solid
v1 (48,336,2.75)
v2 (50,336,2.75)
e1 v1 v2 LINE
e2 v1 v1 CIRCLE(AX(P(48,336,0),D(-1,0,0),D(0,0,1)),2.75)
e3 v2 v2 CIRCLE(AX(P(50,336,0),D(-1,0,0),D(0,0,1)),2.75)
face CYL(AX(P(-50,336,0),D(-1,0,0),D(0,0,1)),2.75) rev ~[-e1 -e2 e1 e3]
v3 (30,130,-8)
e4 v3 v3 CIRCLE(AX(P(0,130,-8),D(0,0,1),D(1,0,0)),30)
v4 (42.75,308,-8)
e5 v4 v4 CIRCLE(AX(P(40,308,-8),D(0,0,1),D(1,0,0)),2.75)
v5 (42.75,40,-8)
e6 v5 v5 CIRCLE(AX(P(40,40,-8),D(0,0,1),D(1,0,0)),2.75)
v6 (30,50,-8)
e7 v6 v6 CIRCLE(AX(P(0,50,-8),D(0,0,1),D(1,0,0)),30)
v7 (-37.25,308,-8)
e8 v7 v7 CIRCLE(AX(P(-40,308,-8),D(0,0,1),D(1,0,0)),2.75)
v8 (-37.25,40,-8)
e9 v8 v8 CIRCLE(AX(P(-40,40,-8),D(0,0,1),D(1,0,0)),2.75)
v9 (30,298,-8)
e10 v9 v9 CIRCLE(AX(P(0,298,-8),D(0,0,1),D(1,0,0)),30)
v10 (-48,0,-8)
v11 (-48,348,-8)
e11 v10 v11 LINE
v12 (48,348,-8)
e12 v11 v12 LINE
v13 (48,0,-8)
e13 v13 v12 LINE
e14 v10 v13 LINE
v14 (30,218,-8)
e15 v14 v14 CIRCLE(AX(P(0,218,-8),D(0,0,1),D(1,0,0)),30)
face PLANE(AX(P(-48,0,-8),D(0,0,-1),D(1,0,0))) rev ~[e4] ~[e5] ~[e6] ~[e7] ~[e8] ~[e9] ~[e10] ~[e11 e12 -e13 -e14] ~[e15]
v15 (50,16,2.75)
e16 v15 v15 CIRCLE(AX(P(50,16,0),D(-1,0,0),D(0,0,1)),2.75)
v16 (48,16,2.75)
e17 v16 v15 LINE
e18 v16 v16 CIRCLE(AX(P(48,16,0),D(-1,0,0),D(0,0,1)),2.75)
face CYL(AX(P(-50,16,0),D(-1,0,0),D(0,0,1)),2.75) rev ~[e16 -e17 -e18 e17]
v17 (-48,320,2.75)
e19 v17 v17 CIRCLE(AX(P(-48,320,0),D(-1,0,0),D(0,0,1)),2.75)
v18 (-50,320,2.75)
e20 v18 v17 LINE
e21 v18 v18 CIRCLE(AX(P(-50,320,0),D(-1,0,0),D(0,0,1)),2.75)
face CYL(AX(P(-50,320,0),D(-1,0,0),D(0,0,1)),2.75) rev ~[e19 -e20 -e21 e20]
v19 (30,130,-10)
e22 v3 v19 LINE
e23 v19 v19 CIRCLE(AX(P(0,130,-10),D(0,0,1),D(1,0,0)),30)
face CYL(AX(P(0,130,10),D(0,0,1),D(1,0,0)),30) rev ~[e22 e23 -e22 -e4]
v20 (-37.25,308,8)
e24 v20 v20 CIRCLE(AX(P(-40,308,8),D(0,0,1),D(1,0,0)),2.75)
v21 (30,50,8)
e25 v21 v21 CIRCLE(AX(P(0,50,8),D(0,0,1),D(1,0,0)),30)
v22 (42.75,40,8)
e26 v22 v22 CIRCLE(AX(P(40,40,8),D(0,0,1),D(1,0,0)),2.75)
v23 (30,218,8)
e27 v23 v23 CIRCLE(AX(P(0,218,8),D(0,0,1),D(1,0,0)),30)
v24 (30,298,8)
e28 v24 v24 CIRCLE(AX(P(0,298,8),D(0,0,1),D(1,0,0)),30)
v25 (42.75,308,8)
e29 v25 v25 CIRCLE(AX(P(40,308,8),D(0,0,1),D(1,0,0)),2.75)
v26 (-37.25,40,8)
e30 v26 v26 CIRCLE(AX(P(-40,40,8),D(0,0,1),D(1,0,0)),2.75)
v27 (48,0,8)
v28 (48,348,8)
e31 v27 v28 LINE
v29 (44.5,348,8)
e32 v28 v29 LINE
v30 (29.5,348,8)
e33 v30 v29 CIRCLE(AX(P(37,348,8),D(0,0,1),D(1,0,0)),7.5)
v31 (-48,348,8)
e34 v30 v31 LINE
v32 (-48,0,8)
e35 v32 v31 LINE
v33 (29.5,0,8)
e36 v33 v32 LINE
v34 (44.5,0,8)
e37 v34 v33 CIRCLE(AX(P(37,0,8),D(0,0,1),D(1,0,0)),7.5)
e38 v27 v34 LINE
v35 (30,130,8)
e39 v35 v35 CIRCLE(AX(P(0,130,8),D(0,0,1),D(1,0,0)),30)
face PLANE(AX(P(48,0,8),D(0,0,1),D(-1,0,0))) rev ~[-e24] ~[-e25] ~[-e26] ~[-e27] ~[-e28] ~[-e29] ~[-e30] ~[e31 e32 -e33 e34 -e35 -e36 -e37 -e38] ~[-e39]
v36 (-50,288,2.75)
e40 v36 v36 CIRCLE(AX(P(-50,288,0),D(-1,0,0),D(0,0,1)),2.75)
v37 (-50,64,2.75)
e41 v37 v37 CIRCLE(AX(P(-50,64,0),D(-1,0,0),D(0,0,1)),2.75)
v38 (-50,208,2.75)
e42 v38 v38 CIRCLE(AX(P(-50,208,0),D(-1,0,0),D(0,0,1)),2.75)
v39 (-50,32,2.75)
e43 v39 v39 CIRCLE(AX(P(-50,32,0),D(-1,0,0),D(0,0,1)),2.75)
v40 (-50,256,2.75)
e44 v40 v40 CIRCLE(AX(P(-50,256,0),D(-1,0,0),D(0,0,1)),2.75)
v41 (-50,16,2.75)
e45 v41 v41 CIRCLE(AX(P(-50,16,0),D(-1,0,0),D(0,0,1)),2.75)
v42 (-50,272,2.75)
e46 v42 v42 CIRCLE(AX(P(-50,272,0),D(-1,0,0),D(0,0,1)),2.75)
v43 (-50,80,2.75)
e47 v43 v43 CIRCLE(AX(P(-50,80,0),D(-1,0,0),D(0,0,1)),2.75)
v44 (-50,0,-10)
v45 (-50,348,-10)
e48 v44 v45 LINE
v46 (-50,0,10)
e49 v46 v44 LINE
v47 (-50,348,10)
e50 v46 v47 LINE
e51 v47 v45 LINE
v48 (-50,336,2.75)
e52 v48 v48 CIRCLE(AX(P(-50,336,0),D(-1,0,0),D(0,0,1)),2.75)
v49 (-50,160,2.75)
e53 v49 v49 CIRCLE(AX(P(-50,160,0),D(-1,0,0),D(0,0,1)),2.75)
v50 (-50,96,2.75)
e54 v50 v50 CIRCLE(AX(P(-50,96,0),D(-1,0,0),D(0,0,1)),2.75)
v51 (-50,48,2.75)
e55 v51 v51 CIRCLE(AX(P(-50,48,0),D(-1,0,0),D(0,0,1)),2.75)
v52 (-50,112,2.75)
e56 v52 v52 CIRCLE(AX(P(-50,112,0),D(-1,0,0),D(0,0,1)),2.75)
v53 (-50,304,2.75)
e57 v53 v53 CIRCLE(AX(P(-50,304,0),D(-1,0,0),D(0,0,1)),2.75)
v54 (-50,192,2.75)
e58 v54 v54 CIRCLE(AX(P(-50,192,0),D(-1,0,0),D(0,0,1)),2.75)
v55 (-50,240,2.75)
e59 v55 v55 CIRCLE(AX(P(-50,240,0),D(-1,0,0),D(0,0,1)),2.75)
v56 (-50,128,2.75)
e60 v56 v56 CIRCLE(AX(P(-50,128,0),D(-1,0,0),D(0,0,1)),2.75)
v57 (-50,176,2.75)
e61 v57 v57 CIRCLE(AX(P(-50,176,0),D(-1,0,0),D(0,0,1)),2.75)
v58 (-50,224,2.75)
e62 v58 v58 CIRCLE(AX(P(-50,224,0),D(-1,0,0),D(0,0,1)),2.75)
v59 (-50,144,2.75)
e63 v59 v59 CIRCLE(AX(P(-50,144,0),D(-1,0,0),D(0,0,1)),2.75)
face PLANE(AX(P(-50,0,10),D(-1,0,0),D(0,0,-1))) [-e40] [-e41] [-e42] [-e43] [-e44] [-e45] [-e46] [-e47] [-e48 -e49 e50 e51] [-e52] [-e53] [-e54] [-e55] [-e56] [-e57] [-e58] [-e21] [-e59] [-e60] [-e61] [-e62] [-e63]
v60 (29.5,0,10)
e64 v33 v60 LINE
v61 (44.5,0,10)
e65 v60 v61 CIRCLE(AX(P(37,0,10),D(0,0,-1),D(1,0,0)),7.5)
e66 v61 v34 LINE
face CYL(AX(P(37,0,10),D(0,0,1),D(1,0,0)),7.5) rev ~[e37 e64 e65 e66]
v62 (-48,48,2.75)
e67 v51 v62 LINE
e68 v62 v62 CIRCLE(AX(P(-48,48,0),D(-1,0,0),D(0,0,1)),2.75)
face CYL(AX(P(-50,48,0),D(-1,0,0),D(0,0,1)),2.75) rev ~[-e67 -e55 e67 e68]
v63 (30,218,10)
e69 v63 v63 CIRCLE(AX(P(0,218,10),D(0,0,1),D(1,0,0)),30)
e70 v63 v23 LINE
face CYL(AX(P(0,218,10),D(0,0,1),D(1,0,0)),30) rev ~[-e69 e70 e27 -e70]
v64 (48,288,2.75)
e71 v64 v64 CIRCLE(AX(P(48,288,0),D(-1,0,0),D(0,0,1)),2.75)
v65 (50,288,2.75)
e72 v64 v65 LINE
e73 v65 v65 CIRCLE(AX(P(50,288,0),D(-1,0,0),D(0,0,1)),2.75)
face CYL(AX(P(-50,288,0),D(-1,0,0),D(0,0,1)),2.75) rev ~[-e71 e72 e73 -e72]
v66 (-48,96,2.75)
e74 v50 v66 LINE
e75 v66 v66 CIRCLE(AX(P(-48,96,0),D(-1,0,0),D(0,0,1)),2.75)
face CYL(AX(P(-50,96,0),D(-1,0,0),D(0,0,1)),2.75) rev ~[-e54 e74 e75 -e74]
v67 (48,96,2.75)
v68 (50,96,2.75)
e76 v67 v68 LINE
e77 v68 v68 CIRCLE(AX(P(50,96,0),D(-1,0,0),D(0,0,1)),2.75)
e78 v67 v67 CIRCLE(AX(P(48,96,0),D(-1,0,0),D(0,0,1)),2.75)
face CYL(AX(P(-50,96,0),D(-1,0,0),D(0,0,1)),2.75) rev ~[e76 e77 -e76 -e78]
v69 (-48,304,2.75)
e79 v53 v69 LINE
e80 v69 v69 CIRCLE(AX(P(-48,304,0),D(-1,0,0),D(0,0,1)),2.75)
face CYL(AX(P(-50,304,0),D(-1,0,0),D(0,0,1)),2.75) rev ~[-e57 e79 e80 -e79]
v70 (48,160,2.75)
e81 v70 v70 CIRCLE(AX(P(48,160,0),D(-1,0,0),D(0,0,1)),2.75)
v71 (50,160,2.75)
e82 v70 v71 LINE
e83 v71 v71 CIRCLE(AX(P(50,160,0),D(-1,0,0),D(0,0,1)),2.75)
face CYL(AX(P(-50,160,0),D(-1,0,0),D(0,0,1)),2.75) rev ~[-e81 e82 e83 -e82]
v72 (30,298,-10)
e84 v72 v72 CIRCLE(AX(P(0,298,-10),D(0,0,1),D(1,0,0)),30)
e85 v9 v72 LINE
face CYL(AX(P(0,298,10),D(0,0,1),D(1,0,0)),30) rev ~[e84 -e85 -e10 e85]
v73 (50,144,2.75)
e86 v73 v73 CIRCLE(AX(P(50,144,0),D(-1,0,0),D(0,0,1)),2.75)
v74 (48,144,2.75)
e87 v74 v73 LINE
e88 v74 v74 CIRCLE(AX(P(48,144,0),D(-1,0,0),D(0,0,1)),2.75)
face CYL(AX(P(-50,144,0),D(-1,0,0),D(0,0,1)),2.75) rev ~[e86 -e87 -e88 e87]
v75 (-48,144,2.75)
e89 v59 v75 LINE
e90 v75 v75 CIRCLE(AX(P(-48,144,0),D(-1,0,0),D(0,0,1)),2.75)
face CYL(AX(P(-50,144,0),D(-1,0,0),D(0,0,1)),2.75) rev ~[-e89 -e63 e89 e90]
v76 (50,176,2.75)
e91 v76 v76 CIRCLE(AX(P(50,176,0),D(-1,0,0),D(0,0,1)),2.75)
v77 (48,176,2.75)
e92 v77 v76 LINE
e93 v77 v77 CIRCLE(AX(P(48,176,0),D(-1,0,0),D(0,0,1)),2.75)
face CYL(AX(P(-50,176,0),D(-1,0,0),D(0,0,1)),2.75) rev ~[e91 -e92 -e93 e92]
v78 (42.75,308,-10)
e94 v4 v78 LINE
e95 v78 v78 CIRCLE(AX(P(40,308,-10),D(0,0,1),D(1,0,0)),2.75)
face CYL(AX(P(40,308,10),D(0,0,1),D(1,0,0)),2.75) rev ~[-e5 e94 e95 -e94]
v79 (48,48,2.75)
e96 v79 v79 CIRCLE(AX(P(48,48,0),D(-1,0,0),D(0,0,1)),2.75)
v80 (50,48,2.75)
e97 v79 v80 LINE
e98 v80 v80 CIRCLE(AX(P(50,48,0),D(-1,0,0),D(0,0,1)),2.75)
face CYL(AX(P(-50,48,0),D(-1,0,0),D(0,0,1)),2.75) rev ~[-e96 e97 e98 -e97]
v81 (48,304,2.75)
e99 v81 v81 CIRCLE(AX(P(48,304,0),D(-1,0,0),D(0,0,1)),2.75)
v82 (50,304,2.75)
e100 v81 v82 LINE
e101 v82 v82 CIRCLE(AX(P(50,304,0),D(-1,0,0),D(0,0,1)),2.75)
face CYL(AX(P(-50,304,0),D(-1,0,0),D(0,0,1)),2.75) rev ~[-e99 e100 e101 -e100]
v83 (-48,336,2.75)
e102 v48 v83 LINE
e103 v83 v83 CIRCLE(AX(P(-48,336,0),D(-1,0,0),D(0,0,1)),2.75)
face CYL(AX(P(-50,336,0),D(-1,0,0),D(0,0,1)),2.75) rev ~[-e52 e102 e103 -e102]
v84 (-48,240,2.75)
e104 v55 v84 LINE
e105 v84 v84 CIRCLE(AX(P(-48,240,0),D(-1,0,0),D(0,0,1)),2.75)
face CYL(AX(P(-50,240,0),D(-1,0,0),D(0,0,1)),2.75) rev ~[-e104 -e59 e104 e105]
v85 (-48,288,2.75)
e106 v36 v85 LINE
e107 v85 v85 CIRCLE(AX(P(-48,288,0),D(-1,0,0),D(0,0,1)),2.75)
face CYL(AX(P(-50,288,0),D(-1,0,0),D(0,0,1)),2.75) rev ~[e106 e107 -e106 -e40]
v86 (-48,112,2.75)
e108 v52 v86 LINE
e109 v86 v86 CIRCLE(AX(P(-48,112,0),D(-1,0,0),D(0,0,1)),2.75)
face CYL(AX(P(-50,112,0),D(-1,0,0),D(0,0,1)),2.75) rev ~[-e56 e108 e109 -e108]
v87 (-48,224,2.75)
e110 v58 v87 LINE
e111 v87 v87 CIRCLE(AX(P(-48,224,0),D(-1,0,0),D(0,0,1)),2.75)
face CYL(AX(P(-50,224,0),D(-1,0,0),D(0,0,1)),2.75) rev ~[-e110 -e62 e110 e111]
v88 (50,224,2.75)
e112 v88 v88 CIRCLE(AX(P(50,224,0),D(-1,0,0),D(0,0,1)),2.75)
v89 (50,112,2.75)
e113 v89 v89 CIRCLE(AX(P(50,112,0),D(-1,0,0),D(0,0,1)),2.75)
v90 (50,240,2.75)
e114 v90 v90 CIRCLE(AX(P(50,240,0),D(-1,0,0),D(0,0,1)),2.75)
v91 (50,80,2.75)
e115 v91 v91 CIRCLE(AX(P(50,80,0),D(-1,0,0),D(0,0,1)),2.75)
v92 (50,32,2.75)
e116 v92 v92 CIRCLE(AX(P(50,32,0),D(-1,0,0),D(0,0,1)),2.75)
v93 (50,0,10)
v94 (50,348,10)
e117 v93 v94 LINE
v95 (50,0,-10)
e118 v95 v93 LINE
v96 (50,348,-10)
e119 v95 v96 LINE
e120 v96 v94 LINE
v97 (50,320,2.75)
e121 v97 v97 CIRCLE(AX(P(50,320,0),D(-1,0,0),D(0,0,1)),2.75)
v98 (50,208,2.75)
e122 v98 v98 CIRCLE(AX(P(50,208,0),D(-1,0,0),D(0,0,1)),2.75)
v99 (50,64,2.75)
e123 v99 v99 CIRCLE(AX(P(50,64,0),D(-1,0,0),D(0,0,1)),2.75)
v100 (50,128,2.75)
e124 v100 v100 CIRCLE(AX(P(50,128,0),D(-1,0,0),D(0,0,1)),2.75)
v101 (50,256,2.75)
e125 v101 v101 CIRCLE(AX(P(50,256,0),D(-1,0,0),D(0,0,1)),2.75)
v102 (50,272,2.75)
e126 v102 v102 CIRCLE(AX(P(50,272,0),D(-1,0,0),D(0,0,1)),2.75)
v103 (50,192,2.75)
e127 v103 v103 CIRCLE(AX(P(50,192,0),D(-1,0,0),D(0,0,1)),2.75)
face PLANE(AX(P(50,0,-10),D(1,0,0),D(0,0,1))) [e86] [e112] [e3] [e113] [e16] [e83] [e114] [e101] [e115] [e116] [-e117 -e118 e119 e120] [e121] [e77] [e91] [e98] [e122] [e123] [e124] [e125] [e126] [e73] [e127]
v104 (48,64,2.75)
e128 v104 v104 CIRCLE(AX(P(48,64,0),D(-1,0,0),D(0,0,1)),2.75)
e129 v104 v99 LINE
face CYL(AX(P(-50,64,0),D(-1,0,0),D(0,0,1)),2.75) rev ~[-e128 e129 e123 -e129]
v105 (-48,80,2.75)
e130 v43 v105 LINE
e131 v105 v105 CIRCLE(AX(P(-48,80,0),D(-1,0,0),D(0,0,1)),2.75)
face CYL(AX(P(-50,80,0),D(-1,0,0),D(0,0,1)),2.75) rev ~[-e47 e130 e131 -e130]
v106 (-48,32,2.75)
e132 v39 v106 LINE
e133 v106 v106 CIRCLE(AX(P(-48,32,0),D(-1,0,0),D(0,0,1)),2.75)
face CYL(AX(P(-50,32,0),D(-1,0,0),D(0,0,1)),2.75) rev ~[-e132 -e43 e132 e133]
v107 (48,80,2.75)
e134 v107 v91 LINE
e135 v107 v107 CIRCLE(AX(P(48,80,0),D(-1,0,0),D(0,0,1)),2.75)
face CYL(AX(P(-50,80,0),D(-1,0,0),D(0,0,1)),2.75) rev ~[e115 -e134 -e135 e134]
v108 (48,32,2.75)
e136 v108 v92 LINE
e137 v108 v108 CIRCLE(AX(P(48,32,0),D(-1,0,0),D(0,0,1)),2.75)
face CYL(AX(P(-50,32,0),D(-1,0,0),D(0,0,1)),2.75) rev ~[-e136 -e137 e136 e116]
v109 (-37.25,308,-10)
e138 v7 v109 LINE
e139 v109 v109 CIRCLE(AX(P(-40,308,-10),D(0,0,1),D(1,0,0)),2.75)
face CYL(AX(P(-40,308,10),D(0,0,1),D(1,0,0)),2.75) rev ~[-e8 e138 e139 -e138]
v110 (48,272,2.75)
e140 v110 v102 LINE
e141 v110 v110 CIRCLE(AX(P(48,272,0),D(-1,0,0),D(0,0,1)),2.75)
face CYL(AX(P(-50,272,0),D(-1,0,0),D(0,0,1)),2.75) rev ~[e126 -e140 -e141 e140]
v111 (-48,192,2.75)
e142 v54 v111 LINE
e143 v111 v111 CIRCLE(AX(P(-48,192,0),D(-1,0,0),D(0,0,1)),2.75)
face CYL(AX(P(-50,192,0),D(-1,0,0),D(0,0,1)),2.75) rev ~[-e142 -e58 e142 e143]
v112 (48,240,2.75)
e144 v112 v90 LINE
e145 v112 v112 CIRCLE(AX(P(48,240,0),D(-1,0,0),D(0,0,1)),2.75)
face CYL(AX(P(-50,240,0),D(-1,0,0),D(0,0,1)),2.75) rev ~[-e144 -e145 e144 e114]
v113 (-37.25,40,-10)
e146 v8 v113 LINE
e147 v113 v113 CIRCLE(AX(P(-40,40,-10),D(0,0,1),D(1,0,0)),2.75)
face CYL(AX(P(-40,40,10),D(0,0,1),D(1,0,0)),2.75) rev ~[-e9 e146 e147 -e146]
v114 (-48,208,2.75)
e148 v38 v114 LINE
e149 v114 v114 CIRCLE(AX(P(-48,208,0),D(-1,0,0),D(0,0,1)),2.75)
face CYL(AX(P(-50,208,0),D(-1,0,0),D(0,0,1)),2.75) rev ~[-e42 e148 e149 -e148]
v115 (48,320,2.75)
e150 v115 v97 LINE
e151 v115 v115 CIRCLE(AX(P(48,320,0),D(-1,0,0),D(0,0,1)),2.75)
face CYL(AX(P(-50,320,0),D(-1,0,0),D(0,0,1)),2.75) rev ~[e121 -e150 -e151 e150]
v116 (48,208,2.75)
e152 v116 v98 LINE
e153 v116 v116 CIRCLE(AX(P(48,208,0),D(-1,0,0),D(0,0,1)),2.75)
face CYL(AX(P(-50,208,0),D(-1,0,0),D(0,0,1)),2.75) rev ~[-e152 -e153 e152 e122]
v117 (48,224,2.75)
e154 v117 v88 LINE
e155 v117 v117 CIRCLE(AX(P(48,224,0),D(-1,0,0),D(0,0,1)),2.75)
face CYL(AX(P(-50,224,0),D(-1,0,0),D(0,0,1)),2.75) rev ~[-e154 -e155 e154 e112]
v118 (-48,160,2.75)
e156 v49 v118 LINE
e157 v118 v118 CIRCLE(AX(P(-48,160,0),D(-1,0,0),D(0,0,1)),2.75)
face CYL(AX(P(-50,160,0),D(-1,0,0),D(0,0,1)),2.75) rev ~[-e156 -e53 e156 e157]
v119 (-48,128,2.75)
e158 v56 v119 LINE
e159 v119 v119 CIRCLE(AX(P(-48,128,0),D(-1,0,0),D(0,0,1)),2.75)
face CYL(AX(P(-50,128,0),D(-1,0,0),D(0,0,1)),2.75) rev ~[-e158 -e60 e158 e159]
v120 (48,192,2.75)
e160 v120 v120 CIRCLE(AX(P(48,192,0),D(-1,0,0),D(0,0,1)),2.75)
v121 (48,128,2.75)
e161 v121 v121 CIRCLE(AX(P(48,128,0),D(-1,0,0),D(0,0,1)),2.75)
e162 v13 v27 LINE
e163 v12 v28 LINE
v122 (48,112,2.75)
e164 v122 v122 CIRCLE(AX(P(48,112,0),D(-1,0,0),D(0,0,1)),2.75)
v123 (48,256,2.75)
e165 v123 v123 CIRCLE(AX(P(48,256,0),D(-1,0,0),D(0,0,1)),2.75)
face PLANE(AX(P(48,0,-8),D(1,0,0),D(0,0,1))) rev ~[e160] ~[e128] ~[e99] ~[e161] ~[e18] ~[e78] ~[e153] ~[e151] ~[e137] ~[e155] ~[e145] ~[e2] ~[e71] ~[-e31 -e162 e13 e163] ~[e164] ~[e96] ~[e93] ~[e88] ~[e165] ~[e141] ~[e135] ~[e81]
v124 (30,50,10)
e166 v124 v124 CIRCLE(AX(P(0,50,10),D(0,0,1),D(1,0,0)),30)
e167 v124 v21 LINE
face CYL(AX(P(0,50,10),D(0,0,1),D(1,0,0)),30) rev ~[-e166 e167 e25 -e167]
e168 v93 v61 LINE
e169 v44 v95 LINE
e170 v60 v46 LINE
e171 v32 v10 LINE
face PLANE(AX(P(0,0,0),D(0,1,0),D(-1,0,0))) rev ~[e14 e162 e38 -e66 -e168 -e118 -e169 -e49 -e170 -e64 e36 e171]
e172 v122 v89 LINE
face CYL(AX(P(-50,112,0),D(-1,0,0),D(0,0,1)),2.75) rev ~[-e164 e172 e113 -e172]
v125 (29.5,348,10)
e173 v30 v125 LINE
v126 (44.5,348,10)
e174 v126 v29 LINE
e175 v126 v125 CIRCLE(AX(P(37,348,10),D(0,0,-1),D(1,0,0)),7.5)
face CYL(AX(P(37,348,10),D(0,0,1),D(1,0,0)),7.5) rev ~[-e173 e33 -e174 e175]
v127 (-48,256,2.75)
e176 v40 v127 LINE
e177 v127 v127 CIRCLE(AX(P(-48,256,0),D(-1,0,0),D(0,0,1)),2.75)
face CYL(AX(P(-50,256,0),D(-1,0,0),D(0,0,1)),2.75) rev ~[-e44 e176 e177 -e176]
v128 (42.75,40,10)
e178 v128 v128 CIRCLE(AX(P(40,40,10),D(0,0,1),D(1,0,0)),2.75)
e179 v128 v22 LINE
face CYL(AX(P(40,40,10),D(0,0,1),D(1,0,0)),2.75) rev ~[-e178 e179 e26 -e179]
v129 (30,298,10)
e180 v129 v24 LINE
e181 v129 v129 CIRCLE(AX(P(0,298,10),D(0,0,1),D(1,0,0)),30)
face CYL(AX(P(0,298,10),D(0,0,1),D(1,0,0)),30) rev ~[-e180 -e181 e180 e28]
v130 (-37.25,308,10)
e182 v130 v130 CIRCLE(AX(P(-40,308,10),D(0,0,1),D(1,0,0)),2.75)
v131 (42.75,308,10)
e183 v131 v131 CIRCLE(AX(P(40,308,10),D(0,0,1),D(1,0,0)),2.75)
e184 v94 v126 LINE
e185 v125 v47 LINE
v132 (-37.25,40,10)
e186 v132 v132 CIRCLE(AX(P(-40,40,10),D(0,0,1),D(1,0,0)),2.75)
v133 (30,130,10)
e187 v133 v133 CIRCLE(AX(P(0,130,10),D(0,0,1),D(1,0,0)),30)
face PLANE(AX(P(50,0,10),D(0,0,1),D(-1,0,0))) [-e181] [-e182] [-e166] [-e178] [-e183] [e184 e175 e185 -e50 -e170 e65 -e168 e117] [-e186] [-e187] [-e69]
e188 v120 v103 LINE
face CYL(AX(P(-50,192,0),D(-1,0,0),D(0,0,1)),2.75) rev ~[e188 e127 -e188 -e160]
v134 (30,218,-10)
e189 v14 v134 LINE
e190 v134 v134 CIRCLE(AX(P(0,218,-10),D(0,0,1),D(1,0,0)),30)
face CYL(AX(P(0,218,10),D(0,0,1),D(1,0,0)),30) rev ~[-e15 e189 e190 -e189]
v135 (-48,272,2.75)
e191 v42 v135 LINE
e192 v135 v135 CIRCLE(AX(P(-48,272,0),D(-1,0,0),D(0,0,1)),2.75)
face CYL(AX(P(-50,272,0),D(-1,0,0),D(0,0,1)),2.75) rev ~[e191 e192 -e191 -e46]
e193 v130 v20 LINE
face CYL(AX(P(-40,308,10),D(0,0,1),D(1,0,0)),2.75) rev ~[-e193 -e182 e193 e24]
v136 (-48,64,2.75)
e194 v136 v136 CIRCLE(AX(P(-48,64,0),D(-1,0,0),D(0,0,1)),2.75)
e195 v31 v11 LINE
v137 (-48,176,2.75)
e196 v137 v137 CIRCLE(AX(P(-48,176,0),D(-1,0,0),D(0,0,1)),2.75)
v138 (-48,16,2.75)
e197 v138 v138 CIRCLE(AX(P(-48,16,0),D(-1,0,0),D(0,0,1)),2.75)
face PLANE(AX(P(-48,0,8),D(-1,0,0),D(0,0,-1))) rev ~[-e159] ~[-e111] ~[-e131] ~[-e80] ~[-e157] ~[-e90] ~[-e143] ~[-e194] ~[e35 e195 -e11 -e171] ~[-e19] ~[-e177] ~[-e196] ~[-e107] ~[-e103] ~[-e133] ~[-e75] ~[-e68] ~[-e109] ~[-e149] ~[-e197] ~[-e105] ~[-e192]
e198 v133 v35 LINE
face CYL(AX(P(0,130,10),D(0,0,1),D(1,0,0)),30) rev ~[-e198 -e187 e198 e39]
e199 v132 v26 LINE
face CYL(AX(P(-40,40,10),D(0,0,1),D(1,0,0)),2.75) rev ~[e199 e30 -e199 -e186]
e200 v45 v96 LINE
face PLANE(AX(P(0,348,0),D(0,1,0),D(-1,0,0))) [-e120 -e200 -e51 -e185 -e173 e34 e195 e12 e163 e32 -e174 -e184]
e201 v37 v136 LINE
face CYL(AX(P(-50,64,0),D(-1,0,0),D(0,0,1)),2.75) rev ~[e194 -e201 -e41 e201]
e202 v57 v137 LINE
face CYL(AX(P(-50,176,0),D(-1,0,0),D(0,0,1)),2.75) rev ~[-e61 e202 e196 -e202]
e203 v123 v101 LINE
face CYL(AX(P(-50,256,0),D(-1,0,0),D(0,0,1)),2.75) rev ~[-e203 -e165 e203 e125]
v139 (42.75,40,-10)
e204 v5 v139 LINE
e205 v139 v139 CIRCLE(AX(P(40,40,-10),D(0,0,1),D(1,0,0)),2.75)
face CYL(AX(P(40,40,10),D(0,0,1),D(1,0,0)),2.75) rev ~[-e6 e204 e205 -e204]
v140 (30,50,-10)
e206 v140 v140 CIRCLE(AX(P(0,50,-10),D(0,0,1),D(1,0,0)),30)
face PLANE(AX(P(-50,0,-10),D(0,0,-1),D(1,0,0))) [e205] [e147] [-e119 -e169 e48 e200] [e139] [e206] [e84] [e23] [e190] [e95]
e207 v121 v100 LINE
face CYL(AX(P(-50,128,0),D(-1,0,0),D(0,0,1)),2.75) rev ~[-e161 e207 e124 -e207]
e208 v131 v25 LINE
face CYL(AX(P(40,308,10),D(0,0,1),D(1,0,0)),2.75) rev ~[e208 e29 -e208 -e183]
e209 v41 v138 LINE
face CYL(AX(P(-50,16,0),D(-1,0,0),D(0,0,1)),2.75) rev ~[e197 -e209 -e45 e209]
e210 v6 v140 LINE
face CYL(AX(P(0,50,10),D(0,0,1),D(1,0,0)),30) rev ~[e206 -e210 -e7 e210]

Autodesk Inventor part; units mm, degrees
ref_plane "YZ Plane" through (0, 0, 0) normal (1, 0, 0) x (0, 1, 0)
ref_plane "XZ Plane" through (0, 0, 0) normal (0, 1, 0) x (-1, 0, 0)
ref_plane "XY Plane" through (0, 0, 0) normal (0, 0, 1) x (1, 0, 0)
sketch "Sketch1" plane through (0, 0, 0) normal (0, 1, 0) x (-1, 0, 0)
  line L0 (50, -10) -> (-50, -10)
  line L1 (-50, -10) -> (-50, 10)
  line L2 (-50, 10) -> (50, 10)
  line L3 (50, 10) -> (50, -10)
  line L4 (50, -10) -> (-50, 10) construction
  line L5 (-50, -10) -> (50, 10) construction
  line L6 (48, -8) -> (-48, -8)
  line L7 (-48, -8) -> (-48, 8)
  line L8 (-48, 8) -> (48, 8)
  line L9 (48, 8) -> (48, -8)
  line L10 (48, -8) -> (-48, 8) construction
  line L11 (-48, -8) -> (48, 8) construction
  point P0 (0, 0)
  dimension "d2" = 100
  dimension "d3" = 20
  dimension "d4" = 96
  dimension "d5" = 16
extrude "Extrusion1" add sketch "Sketch1" along normal blind 348
sketch "Sketch2" plane through (-50, 0, 10) normal (0, 0, 1) x (1, 0, 0)
  circle A0 centre (10, 40) radius 2.75
  circle A1 centre (90, 40) radius 2.75
  circle A2 centre (10, 308) radius 2.75
  circle A3 centre (90, 308) radius 2.75
  line L0 (0, 348) -> (100, 348) projected
  line L1 (0, 0) -> (0, 348) projected
  line L2 (100, 0) -> (100, 348) projected
  line L3 (100, 0) -> (0, 0) projected
  point P0 (50, 0)
  dimension "d8" = 5.5
  dimension "d9" = 5.5
  dimension "d10" = 5.5
  dimension "d11" = 5.5
  dimension "d12" = 40
  dimension "d13" = 10
  dimension "d14" = 10
  dimension "d15" = 40
  dimension "d16" = 40
  dimension "d17" = 10
  dimension "d18" = 40
  dimension "d19" = 10
extrude "Extrusion2" cut sketch "Sketch2" against normal through all contours A0 | A1 | A2 | A3
sketch "Sketch3" plane through (-50, 0, -10) normal (-1, 0, 0) x (0, 0, 1)
  circle A0 centre (10, 16) radius 2.75
  line L0 (10, 16) -> (10, 0) construction
  line L1 (0, 0) -> (0, 348) projected
  circle A1 centre (10, 32) radius 2.75
  circle A2 centre (10, 48) radius 2.75
  circle A3 centre (10, 64) radius 2.75
  circle A4 centre (10, 80) radius 2.75
  circle A5 centre (10, 96) radius 2.75
  circle A6 centre (10, 112) radius 2.75
  circle A7 centre (10, 128) radius 2.75
  circle A8 centre (10, 144) radius 2.75
  circle A9 centre (10, 160) radius 2.75
  circle A10 centre (10, 176) radius 2.75
  circle A11 centre (10, 192) radius 2.75
  circle A12 centre (10, 208) radius 2.75
  circle A13 centre (10, 224) radius 2.75
  circle A14 centre (10, 240) radius 2.75
  circle A15 centre (10, 256) radius 2.75
  circle A16 centre (10, 272) radius 2.75
  circle A17 centre (10, 288) radius 2.75
  circle A18 centre (10, 304) radius 2.75
  circle A19 centre (10, 320) radius 2.75
  circle A20 centre (10, 336) radius 2.75
  circle A21 centre (10, 352) radius 2.75
  circle A22 centre (10, 368) radius 2.75
  circle A23 centre (10, 384) radius 2.75
  circle A24 centre (10, 400) radius 2.75
  circle A25 centre (10, 416) radius 2.75
  circle A26 centre (10, 432) radius 2.75
  dimension "d22" = 5.5
  dimension "d23" = 16
  dimension "d26" = 16
extrude "Extrusion3" cut sketch "Sketch3" against normal through all
sketch "Sketch4" plane through (-50, 0, 10) normal (0, 0, 1) x (1, 0, 0)
  line L0 (0, 348) -> (100, 348) projected
  circle A0 centre (87, 348) radius 7.5
  line L1 (2, 348) -> (98, 348) projected
  line L2 (100, 0) -> (0, 0) projected
  circle A1 centre (87, 0) radius 7.5
  line L3 (100, 0) -> (100, 348) projected
  point P0 (50, 0)
  dimension "d33" = 15
  dimension "d35" = 15
  dimension "d36" = 13
  dimension "d37" = 13
extrude "Extrusion4" cut sketch "Sketch4" against normal blind 10
sketch "Sketch5" plane through (-50, 0, 10) normal (0, 0, 1) x (1, 0, 0)
  circle A0 centre (50, 50) radius 30
  line L0 (79.5, 0) -> (0, 0) projected
  line L1 (100, 0) -> (100, 348) projected
  line L2 (0, 0) -> (0, 348) projected
  line L3 (0, 174) -> (100, 174)
  line L4 (0, 348) -> (79.5, 348) projected
  circle A1 centre (50, 130) radius 30
  circle A2 centre (50, 298) radius 30
  circle A3 centre (50, 218) radius 30
  point P0 (50, 0)
  dimension "d40" = 60
  dimension "d41" = 50
  dimension "d42" = 50
  dimension "d50" = 174
  dimension "d53" = 80
extrude "Extrusion5" cut sketch "Sketch5" against normal blind 50
properties part number "Mid" material "Aluminum 6061"
